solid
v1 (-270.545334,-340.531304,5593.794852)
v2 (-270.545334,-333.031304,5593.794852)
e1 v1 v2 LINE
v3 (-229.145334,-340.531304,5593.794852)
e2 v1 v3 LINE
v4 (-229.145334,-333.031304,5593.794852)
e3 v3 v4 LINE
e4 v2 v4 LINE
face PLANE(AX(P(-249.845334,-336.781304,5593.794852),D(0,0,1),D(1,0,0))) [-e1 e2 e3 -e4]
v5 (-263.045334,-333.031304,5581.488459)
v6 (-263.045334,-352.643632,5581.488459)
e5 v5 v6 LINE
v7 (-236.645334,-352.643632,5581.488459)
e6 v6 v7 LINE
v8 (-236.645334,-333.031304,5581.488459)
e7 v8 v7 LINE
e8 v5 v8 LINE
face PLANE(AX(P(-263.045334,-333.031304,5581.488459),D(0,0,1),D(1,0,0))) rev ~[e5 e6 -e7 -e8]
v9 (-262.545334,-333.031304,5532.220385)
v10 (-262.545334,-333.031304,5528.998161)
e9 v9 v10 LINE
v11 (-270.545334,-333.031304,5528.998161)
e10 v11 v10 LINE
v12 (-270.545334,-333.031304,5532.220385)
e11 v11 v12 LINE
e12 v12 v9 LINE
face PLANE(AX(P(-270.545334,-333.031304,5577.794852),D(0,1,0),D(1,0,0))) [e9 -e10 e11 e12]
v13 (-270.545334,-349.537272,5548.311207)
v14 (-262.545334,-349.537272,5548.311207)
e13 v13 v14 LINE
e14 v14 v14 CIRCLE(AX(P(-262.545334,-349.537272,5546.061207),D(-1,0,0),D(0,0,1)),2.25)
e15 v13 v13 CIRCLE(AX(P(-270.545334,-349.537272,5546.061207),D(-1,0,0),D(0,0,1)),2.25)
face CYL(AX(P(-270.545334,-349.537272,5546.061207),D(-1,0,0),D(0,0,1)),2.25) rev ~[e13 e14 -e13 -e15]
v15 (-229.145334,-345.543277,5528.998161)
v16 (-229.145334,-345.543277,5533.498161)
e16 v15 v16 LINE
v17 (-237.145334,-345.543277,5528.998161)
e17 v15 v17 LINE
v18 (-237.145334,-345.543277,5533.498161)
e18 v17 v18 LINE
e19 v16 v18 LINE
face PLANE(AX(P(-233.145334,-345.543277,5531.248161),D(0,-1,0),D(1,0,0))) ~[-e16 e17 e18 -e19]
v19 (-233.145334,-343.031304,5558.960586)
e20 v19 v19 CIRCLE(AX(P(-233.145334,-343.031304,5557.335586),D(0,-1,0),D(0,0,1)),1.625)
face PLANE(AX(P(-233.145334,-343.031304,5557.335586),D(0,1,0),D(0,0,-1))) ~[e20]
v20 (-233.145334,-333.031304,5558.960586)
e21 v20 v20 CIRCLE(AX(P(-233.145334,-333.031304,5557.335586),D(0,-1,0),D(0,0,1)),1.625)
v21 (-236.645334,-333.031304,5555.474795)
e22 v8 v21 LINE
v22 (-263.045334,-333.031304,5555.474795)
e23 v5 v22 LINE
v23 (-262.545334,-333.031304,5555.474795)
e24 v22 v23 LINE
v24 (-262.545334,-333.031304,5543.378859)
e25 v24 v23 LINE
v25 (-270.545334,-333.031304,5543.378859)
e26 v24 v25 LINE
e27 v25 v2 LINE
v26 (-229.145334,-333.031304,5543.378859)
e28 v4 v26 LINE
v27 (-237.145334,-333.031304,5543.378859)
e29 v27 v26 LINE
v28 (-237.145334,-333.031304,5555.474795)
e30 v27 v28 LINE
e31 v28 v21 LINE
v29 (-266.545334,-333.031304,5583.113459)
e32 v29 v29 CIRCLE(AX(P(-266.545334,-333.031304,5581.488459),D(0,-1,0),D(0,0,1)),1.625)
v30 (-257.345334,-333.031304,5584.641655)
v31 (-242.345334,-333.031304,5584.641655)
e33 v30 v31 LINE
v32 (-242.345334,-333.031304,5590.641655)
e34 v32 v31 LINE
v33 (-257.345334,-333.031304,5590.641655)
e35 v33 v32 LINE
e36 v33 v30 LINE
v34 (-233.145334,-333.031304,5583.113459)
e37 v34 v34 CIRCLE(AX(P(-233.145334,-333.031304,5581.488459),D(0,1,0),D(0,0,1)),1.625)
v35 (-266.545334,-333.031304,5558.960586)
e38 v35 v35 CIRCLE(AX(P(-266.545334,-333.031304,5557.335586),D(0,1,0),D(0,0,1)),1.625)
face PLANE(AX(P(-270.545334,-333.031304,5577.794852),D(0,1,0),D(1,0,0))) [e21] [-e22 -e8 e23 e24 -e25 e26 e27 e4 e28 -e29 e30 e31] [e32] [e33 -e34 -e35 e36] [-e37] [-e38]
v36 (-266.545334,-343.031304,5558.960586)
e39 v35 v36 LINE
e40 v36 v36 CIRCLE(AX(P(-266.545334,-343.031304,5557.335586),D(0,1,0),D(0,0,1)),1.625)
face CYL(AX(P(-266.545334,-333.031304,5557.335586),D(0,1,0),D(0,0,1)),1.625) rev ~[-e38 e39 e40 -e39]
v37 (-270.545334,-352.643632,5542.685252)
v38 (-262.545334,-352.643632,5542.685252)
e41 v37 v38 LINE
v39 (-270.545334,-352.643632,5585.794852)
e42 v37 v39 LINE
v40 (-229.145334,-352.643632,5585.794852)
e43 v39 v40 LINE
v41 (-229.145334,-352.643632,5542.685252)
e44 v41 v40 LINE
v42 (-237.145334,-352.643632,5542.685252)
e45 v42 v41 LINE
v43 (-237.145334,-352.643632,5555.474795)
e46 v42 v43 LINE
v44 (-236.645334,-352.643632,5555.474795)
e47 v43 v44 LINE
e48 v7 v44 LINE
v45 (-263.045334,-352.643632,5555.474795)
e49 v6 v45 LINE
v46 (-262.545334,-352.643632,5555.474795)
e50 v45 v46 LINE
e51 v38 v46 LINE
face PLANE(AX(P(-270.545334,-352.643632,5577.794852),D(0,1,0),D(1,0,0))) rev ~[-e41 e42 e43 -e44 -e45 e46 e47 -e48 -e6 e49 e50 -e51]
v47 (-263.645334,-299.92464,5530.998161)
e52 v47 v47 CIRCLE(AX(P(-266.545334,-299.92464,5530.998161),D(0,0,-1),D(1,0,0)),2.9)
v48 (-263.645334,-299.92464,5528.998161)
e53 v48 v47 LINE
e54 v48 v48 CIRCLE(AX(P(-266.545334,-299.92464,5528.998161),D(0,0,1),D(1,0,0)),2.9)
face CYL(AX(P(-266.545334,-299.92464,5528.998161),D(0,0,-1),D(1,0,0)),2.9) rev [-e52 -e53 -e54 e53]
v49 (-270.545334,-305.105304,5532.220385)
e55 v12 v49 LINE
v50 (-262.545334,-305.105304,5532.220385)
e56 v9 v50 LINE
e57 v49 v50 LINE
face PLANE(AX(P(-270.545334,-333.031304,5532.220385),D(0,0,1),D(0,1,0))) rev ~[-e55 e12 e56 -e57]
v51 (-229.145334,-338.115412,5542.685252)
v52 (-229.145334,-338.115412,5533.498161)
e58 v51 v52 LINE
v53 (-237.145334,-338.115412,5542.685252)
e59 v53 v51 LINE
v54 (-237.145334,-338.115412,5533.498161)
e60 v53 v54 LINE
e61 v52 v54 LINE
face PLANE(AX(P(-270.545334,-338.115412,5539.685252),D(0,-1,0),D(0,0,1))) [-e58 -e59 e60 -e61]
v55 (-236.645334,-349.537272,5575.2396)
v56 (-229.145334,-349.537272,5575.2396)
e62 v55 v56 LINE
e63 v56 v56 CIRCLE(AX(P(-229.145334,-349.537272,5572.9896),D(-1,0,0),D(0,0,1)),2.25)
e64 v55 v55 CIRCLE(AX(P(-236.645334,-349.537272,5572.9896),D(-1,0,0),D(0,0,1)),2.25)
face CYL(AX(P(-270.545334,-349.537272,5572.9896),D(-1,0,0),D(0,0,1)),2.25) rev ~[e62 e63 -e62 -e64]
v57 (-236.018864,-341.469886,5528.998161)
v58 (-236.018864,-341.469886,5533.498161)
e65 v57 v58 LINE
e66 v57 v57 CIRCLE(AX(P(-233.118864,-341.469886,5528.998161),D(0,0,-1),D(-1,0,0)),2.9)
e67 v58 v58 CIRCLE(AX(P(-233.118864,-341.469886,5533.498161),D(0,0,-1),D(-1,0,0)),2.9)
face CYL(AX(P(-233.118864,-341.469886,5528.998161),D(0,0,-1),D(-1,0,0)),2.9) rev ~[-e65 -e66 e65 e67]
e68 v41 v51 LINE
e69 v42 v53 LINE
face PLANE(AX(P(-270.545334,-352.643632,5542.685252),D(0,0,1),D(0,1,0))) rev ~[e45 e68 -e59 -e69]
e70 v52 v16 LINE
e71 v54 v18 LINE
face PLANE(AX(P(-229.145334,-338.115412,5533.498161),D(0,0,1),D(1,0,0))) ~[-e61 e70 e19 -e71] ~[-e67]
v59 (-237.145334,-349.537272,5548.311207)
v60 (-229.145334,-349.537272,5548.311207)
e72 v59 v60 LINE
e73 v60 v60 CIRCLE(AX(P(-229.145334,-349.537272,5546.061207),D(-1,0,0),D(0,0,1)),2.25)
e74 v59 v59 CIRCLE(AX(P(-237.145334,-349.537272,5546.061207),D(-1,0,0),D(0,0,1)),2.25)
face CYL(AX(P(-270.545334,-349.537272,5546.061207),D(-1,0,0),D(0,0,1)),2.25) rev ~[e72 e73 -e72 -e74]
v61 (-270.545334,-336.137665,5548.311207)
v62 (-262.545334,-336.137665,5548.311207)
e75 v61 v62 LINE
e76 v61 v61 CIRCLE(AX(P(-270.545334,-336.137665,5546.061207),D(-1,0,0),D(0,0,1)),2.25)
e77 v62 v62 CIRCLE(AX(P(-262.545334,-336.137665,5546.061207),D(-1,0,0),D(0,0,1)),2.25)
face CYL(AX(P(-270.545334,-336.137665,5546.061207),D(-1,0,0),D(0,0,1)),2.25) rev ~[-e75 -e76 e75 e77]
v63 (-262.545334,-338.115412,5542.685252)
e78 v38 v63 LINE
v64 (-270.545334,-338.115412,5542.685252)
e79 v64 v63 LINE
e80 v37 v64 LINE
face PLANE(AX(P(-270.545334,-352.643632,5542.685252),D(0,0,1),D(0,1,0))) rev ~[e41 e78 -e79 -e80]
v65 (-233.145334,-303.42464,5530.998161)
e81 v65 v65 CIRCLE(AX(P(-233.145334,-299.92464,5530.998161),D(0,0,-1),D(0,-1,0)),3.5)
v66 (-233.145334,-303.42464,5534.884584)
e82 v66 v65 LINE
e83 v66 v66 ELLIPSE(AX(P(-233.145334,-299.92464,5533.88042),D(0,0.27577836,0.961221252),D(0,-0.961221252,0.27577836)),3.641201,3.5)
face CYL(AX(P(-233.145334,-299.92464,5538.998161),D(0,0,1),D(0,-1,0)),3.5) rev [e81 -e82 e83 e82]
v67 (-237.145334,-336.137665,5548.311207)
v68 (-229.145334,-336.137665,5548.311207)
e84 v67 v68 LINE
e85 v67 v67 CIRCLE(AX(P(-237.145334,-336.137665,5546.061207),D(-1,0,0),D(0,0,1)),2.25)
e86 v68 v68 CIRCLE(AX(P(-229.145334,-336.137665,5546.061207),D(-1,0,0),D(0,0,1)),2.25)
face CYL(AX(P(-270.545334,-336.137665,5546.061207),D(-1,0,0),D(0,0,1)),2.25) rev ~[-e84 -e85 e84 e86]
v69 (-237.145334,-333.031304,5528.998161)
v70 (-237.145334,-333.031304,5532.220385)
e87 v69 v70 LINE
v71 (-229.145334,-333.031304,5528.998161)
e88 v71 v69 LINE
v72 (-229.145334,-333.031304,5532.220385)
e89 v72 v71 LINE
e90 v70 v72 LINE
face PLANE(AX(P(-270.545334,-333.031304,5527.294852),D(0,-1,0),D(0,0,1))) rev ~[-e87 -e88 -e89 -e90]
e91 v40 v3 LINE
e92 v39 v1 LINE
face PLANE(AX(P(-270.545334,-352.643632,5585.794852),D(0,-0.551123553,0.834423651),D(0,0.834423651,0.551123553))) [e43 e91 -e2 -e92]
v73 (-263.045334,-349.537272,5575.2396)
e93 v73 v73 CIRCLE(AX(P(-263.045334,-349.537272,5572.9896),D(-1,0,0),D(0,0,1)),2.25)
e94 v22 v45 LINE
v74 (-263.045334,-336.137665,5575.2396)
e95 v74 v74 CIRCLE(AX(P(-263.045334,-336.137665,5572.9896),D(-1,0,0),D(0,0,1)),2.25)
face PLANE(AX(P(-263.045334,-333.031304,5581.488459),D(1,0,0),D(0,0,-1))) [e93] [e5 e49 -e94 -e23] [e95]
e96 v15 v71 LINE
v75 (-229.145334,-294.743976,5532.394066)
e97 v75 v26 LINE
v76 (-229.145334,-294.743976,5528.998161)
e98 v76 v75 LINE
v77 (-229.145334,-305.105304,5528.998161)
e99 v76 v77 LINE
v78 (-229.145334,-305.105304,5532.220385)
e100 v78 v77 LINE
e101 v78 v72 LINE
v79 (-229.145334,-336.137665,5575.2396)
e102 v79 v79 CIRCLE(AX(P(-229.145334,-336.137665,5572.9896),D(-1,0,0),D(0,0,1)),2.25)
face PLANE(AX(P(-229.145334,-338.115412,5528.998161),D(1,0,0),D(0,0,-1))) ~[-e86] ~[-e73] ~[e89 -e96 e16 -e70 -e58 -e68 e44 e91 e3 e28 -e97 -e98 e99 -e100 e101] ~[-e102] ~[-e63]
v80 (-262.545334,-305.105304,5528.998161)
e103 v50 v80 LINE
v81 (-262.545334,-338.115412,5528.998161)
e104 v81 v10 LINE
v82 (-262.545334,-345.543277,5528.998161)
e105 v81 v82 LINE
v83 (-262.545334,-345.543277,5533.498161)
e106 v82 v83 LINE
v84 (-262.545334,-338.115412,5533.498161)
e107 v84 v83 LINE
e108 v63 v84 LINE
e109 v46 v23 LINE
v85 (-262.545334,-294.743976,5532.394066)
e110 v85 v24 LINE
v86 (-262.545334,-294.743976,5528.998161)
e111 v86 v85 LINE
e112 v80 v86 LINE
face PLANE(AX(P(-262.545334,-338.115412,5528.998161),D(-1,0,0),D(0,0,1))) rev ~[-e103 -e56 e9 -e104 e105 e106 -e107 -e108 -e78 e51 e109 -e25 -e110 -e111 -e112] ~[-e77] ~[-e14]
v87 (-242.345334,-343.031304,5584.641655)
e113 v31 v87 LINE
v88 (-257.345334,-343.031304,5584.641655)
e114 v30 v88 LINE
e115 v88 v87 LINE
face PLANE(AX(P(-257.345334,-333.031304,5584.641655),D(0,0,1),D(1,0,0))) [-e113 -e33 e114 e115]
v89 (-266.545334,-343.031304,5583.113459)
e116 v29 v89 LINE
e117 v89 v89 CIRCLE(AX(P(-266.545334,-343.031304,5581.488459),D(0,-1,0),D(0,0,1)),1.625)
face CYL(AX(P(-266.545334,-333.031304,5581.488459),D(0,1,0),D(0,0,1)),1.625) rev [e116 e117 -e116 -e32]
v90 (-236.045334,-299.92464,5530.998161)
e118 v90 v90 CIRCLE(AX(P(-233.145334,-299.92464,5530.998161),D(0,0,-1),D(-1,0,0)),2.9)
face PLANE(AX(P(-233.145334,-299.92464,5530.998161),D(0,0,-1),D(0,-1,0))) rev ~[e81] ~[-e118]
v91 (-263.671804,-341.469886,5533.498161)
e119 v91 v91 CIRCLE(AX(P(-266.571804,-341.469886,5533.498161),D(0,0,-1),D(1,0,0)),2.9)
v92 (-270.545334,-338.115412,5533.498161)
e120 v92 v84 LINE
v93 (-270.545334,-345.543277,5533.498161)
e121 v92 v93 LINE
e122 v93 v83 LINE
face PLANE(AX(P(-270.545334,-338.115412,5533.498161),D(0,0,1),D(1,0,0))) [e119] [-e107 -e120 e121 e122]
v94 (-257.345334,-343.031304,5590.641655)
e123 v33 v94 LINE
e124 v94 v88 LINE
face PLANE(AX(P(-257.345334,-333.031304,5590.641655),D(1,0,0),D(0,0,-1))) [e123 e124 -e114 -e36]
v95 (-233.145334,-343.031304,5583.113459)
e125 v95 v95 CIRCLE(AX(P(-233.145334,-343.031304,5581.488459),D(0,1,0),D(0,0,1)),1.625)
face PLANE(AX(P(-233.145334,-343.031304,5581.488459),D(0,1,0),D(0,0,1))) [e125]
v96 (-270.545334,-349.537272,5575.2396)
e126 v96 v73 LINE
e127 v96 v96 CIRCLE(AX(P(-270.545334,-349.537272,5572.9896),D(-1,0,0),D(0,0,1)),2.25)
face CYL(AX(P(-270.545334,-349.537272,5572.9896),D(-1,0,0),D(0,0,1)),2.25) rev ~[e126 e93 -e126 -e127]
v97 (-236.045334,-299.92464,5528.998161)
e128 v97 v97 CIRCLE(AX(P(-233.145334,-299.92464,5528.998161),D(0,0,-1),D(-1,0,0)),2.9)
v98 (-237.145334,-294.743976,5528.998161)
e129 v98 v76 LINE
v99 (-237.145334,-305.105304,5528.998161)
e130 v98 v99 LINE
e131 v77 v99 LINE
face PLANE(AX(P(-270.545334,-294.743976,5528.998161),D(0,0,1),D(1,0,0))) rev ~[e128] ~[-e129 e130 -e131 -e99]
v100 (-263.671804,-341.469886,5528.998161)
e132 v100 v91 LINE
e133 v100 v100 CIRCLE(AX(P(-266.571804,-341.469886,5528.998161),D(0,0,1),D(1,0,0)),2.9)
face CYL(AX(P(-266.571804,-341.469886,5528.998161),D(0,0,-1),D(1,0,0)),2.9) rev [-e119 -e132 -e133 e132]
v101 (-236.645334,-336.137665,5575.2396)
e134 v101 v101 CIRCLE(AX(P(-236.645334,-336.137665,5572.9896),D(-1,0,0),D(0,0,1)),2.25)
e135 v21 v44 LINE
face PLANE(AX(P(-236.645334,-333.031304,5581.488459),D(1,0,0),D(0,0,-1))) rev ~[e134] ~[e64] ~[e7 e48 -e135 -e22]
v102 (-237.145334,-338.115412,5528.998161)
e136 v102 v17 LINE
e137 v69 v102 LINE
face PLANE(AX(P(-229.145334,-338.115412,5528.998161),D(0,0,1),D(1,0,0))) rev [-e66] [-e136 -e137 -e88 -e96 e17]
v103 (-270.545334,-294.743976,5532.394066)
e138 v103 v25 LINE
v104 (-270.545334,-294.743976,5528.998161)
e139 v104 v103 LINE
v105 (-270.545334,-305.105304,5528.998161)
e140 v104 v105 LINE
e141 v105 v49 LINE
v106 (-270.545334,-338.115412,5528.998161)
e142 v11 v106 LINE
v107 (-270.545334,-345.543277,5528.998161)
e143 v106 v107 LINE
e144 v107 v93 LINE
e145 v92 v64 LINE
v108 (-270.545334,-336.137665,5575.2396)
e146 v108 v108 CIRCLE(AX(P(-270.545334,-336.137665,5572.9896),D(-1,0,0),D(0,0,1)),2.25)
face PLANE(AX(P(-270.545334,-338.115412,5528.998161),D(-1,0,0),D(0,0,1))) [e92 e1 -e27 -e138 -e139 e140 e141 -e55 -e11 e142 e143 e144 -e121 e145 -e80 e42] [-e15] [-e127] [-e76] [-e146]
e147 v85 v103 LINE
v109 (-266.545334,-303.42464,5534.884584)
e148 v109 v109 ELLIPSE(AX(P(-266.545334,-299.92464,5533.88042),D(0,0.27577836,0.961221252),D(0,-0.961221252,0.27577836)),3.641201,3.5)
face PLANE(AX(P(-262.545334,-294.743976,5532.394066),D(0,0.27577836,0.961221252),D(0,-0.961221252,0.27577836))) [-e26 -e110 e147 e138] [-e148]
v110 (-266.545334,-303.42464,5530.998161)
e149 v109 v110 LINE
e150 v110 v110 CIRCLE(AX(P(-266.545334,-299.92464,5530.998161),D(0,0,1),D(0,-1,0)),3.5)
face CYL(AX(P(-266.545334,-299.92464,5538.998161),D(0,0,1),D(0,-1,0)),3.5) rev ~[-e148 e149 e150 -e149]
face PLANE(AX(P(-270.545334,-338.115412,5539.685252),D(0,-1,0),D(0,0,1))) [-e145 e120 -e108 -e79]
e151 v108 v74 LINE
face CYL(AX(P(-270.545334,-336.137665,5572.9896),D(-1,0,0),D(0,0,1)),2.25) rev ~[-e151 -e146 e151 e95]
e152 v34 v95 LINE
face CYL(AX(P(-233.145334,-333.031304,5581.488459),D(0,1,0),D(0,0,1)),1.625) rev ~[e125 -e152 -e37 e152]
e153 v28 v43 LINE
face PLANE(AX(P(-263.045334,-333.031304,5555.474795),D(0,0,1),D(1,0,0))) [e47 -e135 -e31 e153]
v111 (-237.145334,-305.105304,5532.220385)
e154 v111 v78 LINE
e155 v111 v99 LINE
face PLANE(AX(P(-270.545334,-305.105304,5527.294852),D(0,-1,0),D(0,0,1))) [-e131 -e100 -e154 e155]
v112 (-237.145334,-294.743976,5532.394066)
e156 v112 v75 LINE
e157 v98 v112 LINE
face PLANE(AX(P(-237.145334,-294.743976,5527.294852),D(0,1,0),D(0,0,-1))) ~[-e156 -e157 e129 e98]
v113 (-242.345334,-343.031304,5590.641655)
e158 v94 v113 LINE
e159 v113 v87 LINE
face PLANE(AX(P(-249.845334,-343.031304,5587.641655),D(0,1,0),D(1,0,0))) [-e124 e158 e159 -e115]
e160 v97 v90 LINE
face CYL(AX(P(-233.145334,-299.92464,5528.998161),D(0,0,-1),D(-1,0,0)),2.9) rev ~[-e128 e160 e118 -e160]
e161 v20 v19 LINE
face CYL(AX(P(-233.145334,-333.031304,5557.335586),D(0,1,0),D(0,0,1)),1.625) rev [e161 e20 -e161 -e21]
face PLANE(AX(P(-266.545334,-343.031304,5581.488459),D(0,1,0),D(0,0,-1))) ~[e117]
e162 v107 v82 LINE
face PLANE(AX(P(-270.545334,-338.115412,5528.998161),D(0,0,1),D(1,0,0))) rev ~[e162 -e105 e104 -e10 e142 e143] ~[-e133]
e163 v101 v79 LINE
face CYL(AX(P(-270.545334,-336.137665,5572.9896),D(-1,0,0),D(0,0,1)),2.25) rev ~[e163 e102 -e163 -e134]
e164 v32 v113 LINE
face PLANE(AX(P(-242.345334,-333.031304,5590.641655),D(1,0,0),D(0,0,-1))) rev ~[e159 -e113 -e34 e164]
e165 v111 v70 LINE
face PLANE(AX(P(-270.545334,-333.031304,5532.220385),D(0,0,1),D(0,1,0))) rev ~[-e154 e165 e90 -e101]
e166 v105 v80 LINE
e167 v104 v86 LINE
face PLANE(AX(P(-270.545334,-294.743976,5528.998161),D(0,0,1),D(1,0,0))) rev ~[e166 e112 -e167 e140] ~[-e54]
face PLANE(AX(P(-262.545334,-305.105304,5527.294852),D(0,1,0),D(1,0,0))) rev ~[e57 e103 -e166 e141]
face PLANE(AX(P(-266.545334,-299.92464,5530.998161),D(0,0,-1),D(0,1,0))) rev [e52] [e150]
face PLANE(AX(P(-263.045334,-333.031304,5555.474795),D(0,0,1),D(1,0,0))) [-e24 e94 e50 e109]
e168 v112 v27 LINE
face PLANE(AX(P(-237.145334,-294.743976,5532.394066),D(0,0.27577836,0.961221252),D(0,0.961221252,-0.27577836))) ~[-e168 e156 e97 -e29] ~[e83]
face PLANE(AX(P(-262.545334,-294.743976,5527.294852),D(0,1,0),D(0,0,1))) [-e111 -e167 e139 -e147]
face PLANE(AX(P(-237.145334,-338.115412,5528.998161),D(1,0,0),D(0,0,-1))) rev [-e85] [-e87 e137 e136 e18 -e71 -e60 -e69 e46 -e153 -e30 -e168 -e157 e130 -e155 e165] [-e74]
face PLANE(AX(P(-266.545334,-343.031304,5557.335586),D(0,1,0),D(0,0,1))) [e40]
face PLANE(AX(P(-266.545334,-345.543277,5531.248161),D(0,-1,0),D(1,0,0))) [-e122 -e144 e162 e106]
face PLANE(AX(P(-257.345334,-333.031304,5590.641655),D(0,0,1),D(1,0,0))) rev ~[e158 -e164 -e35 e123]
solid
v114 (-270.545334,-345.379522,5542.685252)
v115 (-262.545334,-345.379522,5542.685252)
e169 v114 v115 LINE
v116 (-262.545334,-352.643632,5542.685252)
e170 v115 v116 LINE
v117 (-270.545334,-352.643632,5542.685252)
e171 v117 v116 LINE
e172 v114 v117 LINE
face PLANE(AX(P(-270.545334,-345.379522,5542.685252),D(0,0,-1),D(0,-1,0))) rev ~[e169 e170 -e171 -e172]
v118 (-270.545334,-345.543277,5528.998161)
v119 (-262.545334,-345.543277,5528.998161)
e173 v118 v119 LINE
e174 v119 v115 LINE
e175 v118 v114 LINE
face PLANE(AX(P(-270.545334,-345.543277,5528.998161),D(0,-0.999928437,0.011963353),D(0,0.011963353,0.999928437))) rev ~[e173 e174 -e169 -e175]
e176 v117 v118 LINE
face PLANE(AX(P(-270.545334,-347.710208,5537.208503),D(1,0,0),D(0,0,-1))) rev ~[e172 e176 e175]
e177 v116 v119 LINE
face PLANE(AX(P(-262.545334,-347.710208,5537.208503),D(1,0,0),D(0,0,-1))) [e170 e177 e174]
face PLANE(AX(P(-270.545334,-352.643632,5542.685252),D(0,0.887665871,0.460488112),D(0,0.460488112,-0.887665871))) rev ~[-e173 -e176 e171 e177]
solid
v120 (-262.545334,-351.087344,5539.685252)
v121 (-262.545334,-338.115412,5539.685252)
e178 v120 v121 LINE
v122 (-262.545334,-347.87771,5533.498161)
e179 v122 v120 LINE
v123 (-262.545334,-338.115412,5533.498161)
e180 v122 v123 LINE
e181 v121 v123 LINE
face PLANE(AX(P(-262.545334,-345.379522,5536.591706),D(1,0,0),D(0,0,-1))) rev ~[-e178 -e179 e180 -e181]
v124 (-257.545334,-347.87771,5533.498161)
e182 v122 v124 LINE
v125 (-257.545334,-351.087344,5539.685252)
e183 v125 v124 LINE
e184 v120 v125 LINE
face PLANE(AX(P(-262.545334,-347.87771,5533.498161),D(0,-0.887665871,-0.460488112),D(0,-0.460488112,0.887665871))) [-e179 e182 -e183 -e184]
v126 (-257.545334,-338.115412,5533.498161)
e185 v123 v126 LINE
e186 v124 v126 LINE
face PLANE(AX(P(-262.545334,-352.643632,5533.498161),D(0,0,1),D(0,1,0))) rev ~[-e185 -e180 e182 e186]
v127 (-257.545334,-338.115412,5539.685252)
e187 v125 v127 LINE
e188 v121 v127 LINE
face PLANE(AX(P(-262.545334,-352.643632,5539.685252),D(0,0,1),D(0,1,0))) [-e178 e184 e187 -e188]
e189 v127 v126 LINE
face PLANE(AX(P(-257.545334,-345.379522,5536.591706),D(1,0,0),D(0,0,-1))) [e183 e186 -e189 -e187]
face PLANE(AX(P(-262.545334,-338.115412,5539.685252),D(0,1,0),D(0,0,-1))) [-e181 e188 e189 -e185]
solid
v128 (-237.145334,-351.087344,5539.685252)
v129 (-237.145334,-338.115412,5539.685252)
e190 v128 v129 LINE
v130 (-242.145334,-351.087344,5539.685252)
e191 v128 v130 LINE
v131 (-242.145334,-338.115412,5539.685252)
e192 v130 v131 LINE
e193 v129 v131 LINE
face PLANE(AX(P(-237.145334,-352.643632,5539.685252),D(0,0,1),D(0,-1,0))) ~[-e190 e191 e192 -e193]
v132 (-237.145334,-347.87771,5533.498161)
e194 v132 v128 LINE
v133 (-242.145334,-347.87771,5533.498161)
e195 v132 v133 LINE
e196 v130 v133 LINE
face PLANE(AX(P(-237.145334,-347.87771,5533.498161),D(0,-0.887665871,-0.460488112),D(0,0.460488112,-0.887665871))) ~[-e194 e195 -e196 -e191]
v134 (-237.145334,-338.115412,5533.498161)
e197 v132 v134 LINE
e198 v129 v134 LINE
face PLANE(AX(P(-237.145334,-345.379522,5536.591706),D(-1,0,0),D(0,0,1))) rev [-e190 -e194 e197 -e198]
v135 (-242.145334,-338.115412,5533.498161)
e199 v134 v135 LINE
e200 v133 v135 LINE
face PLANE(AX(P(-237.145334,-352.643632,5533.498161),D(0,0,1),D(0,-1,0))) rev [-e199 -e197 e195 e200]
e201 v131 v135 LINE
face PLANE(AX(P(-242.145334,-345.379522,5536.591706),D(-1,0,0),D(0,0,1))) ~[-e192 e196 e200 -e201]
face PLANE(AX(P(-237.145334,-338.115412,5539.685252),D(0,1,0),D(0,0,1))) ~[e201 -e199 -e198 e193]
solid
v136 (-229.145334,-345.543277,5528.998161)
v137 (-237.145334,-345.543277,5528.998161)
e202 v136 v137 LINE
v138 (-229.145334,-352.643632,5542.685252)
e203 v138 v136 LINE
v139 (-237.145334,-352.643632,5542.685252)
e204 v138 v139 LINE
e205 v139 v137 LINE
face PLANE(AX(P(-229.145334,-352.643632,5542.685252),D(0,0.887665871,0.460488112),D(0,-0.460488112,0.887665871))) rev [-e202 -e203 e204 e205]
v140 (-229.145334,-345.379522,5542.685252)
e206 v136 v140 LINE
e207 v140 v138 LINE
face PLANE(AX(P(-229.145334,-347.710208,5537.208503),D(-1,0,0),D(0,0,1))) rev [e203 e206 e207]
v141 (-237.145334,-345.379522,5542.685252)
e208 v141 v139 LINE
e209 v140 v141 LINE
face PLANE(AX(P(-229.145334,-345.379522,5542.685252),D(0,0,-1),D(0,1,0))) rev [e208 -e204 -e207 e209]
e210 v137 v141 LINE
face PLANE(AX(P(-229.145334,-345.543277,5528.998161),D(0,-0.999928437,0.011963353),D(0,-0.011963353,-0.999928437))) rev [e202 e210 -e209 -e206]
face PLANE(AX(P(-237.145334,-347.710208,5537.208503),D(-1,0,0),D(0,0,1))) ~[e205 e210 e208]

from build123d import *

# Parameters (mm, degrees)
SKETCH1_W             = 7.5
SKETCH1_H             = 7.5
BOSS_EXTRUDE1_DEPTH   = 5.5
BOSS_EXTRUDE1_2_DEPTH = 5.5
BOSS_EXTRUDE1_3_DEPTH = 5.5
BOSS_EXTRUDE1_4_DEPTH = 5.5
BOSS_EXTRUDE2_START   = -5.5
SKETCH2_W             = 8
SKETCH2_H             = 7.5
BOSS_EXTRUDE2_DEPTH   = 50.5
SKETCH3_W             = 41.4
SKETCH3_H             = 7.5
BOSS_EXTRUDE3_DEPTH   = 16
BOSS_EXTRUDE4_DEPTH   = 8
SKETCH5_R             = 2.5
CUT_EXTRUDE1_DEPTH    = 8
SKETCH6_W             = 38.1096
SKETCH6_H             = 12.112327922
BOSS_EXTRUDE6_DEPTH   = 8
SKETCH9_W             = 41.4
SKETCH9_H             = 12.112327922
BOSS_EXTRUDE7_DEPTH   = 8
SKETCH10_R            = 2.25
CUT_EXTRUDE2_DEPTH    = 5606.052393737
BOSS_EXTRUDE8_DEPTH   = 8
BOSS_EXTRUDE9_DEPTH   = 8
SKETCH13_W            = 4.925533285
SKETCH13_H            = 27.926
CUT_EXTRUDE3_DEPTH    = 5606.052393737
BOSS_EXTRUDE10_DEPTH  = 41.4
SKETCH16_W            = 26.4
SKETCH16_H            = 26.013663936
CUT_EXTRUDE5_DEPTH    = 5601.464404158
SKETCH17_W            = 25.4
SKETCH17_H            = 5.5
CUT_EXTRUDE6_DEPTH    = 50
SKETCH18_W            = 41.4
SKETCH18_H            = 1.703308899
CUT_EXTRUDE7_DEPTH    = 50
SKETCH19_R            = 2.9
CUT_EXTRUDE8_DEPTH    = 50
SKETCH20_R            = 3.5
CUT_EXTRUDE9_DEPTH    = 8
SKETCH21_W            = 10.687091101
SKETCH21_H            = 14.528220305
CUT_EXTRUDE10_DEPTH   = 55
SKETCH22_W            = 8
SKETCH22_H            = 4.5
BOSS_EXTRUDE11_DEPTH  = 7.42786537
SKETCH23_R            = 2.9
CUT_EXTRUDE11_DEPTH   = 5
SKETCH25_W            = 6.187091101
SKETCH25_H            = 14.528220305
BOSS_EXTRUDE12_DEPTH  = 5
SKETCH26_W            = 3
SKETCH26_H            = 14.528220305
CUT_EXTRUDE12_DEPTH   = 5606.052393737
BOSS_EXTRUDE15_DEPTH  = 8
CUT_EXTRUDE13_DEPTH   = 5605.999013072
SKETCH29_W            = 15
SKETCH29_H            = 6
CUT_EXTRUDE14_DEPTH   = 10
SKETCH30_R            = 1.625
CUT_EXTRUDE15_DEPTH   = 10
SKETCH31_R            = 1.625
CUT_EXTRUDE16_DEPTH   = 10


with BuildPart() as part:
    # Sketch1 → Boss-Extrude1 (new body)
    with BuildSketch(Plane(origin=(-474.147028746, -1016.113518437, 5527.294851894), x_dir=(1, 0, 0), z_dir=(0, 0, 1))):
        with Locations((215.351694909, 679.332213979)):
            Rectangle(SKETCH1_W, SKETCH1_H)
    extrude(amount=BOSS_EXTRUDE1_DEPTH)

    # Sketch2 → Boss-Extrude2 (add)
    with BuildSketch(Plane.XY.offset(5532.794851894).offset(BOSS_EXTRUDE2_START)):
        with Locations((-233.145333837, -336.781304458)):
            Rectangle(SKETCH2_W, SKETCH2_H)
        with Locations((-266.545333837, -336.781304458)):
            Rectangle(SKETCH2_W, SKETCH2_H)
    boss_extrude2 = extrude(amount=BOSS_EXTRUDE2_DEPTH)


with BuildPart() as body_2:
    # Sketch1 → Boss-Extrude1 2 (new body)
    with BuildSketch(Plane(origin=(-474.147028746, -1016.113518437, 5527.294851894), x_dir=(1, 0, 0), z_dir=(0, 0, 1))):
        with Locations((233.251694909, 679.332213979)):
            Rectangle(SKETCH1_W, SKETCH1_H)
    extrude(amount=BOSS_EXTRUDE1_2_DEPTH)


with BuildPart() as body_3:
    # Sketch1 → Boss-Extrude1 3 (new body)
    with BuildSketch(Plane(origin=(-474.147028746, -1016.113518437, 5527.294851894), x_dir=(1, 0, 0), z_dir=(0, 0, 1))):
        with Locations((233.251694909, 714.758213979)):
            Rectangle(SKETCH1_W, SKETCH1_H)
    extrude(amount=BOSS_EXTRUDE1_3_DEPTH)


with BuildPart() as body_4:
    # Sketch1 → Boss-Extrude1 4 (new body)
    with BuildSketch(Plane(origin=(-474.147028746, -1016.113518437, 5527.294851894), x_dir=(1, 0, 0), z_dir=(0, 0, 1))):
        with Locations((215.351694909, 714.758213979)):
            Rectangle(SKETCH1_W, SKETCH1_H)
    extrude(amount=BOSS_EXTRUDE1_4_DEPTH)



with BuildPart() as boss_extrude2_piece_1:
    # of the separate pieces the step leaves, piece 1, a body of its own (boss_extrude2_pieces)
    add(part.part.solids().sort_by_distance((-255.045333837, -333.031304458, 5527.294851894))[0])



with BuildPart() as boss_extrude2_piece_2:
    # of the separate pieces the step leaves, piece 2, a body of its own (boss_extrude2_pieces)
    add(part.part.solids().sort_by_distance((-229.145333837, -333.031304458, 5527.294851894))[0])


with BuildPart() as boss_extrude2_piece_1_1:
    add(boss_extrude2_piece_1.part)

    add(boss_extrude2_piece_2.part)  # Boss-Extrude3 merges Boss-Extrude2 piece 2
    # Sketch3 → Boss-Extrude3 (add)
    with BuildSketch(Plane.XY.offset(5577.794851894)):
        with Locations((-249.845333837, -336.781304458)):
            Rectangle(SKETCH3_W, SKETCH3_H)
    extrude(amount=BOSS_EXTRUDE3_DEPTH)


with BuildPart() as body_4_1:
    add(body_4.part)

    add(boss_extrude2_piece_1_1.part)  # Boss-Extrude4 merges Boss-Extrude2 piece 1
    # Sketch4 → Boss-Extrude4 (add)
    with BuildSketch(Plane.ZY.offset(262.545333837)):
        Polygon((5527.294851894, -333.031304458), (5527.294851894, -294.74397633), (5532.394065696, -294.74397633), (5543.378858785, -333.031304458), align=None)
    boss_extrude4 = extrude(amount=BOSS_EXTRUDE4_DEPTH)

    # Mirror1: Boss-Extrude2, Boss-Extrude4 across plane
    add(boss_extrude2.mirror(Plane.ZY.offset(249.845333837)))
    add(boss_extrude4.mirror(Plane.ZY.offset(249.845333837)))


with BuildPart() as cut_extrude1_tool:
    # Sketch5 → Cut-Extrude1 (new body)
    with BuildSketch(Plane.XY.offset(5532.794851894)):
        with Locations((-258.795333837, -301.355304458)):
            Circle(SKETCH5_R)
        with Locations((-240.895333837, -301.355304458)):
            Circle(SKETCH5_R)
        with Locations((-240.895333837, -336.781304458)):
            Circle(SKETCH5_R)
        with Locations(Location((-258.795333837, -336.781304458, 0), (0, 0, 180))):
            Circle(SKETCH5_R)
    extrude(amount=-CUT_EXTRUDE1_DEPTH)


with BuildPart() as body_2_1:
    add(body_2.part)

    # Cut-Extrude1: cut by cut_extrude1_tool
    add(cut_extrude1_tool.part, mode=Mode.SUBTRACT)



with BuildPart() as body_3_1:
    add(body_3.part)

    # Cut-Extrude1: cut by cut_extrude1_tool
    add(cut_extrude1_tool.part, mode=Mode.SUBTRACT)


with BuildPart() as body_4_2:
    add(body_4_1.part)

    # Cut-Extrude1: cut by cut_extrude1_tool
    add(cut_extrude1_tool.part, mode=Mode.SUBTRACT)

    # Sketch6 → Boss-Extrude6 (add)
    with BuildSketch(Plane.ZY.offset(270.545333837)):
        with Locations((5558.740051894, -346.587468419)):
            Rectangle(SKETCH6_W, SKETCH6_H)
    boss_extrude6 = extrude(amount=-BOSS_EXTRUDE6_DEPTH)

    # Mirror2: Boss-Extrude6 across plane
    add(boss_extrude6.mirror(Plane.ZY.offset(249.845333837)))

    # Sketch9 → Boss-Extrude7 (add)
    with BuildSketch(Plane.XY.offset(5577.794851894)):
        with Locations((-249.845333837, -346.587468419)):
            Rectangle(SKETCH9_W, SKETCH9_H)
    extrude(amount=BOSS_EXTRUDE7_DEPTH)

    # Sketch10 → Cut-Extrude2 (cut, through all)
    with BuildSketch(Plane.ZY.offset(270.545333837)):
        with Locations((5546.061207304, -349.537271609)):
            Circle(SKETCH10_R)
        with Locations((5572.989599872, -349.537271609)):
            Circle(SKETCH10_R)
        with Locations((5546.061207304, -336.137665229)):
            Circle(SKETCH10_R)
        with Locations((5572.989599872, -336.137665229)):
            Circle(SKETCH10_R)
    extrude(amount=-CUT_EXTRUDE2_DEPTH, mode=Mode.SUBTRACT)

    # Sketch11 → Boss-Extrude8 (add)
    with BuildSketch(Plane.ZY.offset(270.545333837)):
        Polygon((5527.294851894, -340.372465198), (5539.685251894, -352.64363238), (5539.685251894, -340.531304458), align=None)
    extrude(amount=-BOSS_EXTRUDE8_DEPTH)


with BuildPart() as body_2_2:
    add(body_2_1.part)

    add(body_4_2.part)  # Boss-Extrude9 merges body 4
    # Sketch12 → Boss-Extrude9 (add)
    with BuildSketch(Plane(origin=(-229.145333837, 0, 0), x_dir=(0, 0, -1), z_dir=(1, 0, 0))):
        Polygon((-5539.685251894, -352.64363238), (-5531.24028041, -340.531304458), (-5539.685251894, -340.531304458), align=None)
    extrude(amount=-BOSS_EXTRUDE9_DEPTH)

    # Sketch13 → Cut-Extrude3 (cut, through all)
    with BuildSketch(Plane.ZY.offset(270.545333837)):
        with Locations((5529.757618536, -319.068304458)):
            Rectangle(SKETCH13_W, SKETCH13_H)
    extrude(amount=-CUT_EXTRUDE3_DEPTH, mode=Mode.SUBTRACT)

    # Sketch14 → Boss-Extrude10 (add)
    with BuildSketch(Plane.ZY.offset(270.545333837)):
        Polygon((5585.794851894, -352.64363238), (5593.794851894, -340.531304458), (5585.794851894, -340.531304458), align=None)
    extrude(amount=-BOSS_EXTRUDE10_DEPTH)

    # Sketch16 → Cut-Extrude5 (cut, through all)
    with BuildSketch(Plane(origin=(0, -333.031304458, 0), x_dir=(1, 0, 0), z_dir=(0, 1, 0))):
        with Locations((-249.845333837, -5568.481626817)):
            Rectangle(SKETCH16_W, SKETCH16_H)
    extrude(amount=-CUT_EXTRUDE5_DEPTH, mode=Mode.SUBTRACT)


with BuildPart() as cut_extrude6_tool:
    # Sketch17 → Cut-Extrude6 (new body)
    with BuildSketch(Plane(origin=(0, -297.605304458, 0), x_dir=(1, 0, 0), z_dir=(0, 1, 0))):
        with Locations((-249.845333837, -5530.044851894)):
            Rectangle(SKETCH17_W, SKETCH17_H)
    extrude(amount=-CUT_EXTRUDE6_DEPTH)


with BuildPart() as body_2_3:
    add(body_2_2.part)

    # Cut-Extrude6: cut by cut_extrude6_tool
    add(cut_extrude6_tool.part, mode=Mode.SUBTRACT)

    # Sketch18 → Cut-Extrude7 (cut)
    with BuildSketch(Plane(origin=(0, -294.74397633, 0), x_dir=(1, 0, 0), z_dir=(0, 1, 0))):
        with Locations((-249.845333837, -5528.146506344)):
            Rectangle(SKETCH18_W, SKETCH18_H)
    extrude(amount=-CUT_EXTRUDE7_DEPTH, mode=Mode.SUBTRACT)

    # Sketch19 → Cut-Extrude8 (cut)
    with BuildSketch(Plane(origin=(0, 0, 5528.998160793), x_dir=(-1, 0, 0), z_dir=(0, 0, -1))):
        with Locations((233.145333837, -299.924640394)):
            Circle(SKETCH19_R)
    cut_extrude8 = extrude(amount=-CUT_EXTRUDE8_DEPTH, mode=Mode.SUBTRACT)

    # Sketch20 → Cut-Extrude9 (cut)
    with BuildSketch(Plane(origin=(0, 0, 5538.998160793), x_dir=(-1, 0, 0), z_dir=(0, 0, -1))):
        with Locations(Location((233.145333837, -299.924640394, 0), (0, 0, 270))):
            Circle(SKETCH20_R)
    cut_extrude9 = extrude(amount=CUT_EXTRUDE9_DEPTH, mode=Mode.SUBTRACT)

    # Mirror3: Cut-Extrude8, Cut-Extrude9 across plane
    add(cut_extrude8.mirror(Plane.ZY.offset(249.845333837)), mode=Mode.SUBTRACT)
    add(cut_extrude9.mirror(Plane.ZY.offset(249.845333837)), mode=Mode.SUBTRACT)

    # Sketch21 → Cut-Extrude10 (cut)
    with BuildSketch(Plane.ZY.offset(270.545333837)):
        with Locations((5534.341706344, -345.379522228)):
            Rectangle(SKETCH21_W, SKETCH21_H)
    extrude(amount=-CUT_EXTRUDE10_DEPTH, mode=Mode.SUBTRACT)

    # Sketch22 → Boss-Extrude11 (add)
    with BuildSketch(Plane.XZ.offset(338.115412075)):
        with Locations((-266.545333837, 5531.248160793)):
            Rectangle(SKETCH22_W, SKETCH22_H)
    boss_extrude11 = extrude(amount=BOSS_EXTRUDE11_DEPTH)

    # Mirror5: Boss-Extrude11 across plane
    add(boss_extrude11.mirror(Plane.ZY.offset(249.845333837)))

    # Sketch23 → Cut-Extrude11 (cut)
    with BuildSketch(Plane(origin=(0, 0, 5528.998160793), x_dir=(-1, 0, 0), z_dir=(0, 0, -1))):
        with Locations((233.118864035, -341.469886082)):
            Circle(SKETCH23_R)
    cut_extrude11 = extrude(amount=-CUT_EXTRUDE11_DEPTH, mode=Mode.SUBTRACT)

    # Sketch26 → Cut-Extrude12 (cut, through all)
    with BuildSketch(Plane.ZY.offset(270.545333837)):
        with Locations((5541.185251894, -345.379522228)):
            Rectangle(SKETCH26_W, SKETCH26_H)
    extrude(amount=-CUT_EXTRUDE12_DEPTH, mode=Mode.SUBTRACT)

    # Mirror6: Cut-Extrude11 across plane
    add(cut_extrude11.mirror(Plane.ZY.offset(249.845333837)), mode=Mode.SUBTRACT)

    # Sketch29 → Cut-Extrude14 (cut)
    with BuildSketch(Plane(origin=(0, -333.031304458, 0), x_dir=(1, 0, 0), z_dir=(0, 1, 0))):
        with Locations((-249.845333837, -5587.64165534)):
            Rectangle(SKETCH29_W, SKETCH29_H)
    extrude(amount=-CUT_EXTRUDE14_DEPTH, mode=Mode.SUBTRACT)

    # Sketch30 → Cut-Extrude15 (cut)
    with BuildSketch(Plane(origin=(0, -333.031304458, 0), x_dir=(1, 0, 0), z_dir=(0, 1, 0))):
        with Locations(Location((-266.545333837, -5557.335586136, 0), (0, 0, 270))):
            Circle(SKETCH30_R)
    cut_extrude15 = extrude(amount=-CUT_EXTRUDE15_DEPTH, mode=Mode.SUBTRACT)

    # Sketch31 → Cut-Extrude16 (cut)
    with BuildSketch(Plane(origin=(0, -333.031304458, 0), x_dir=(1, 0, 0), z_dir=(0, 1, 0))):
        with Locations(Location((-233.145333837, -5581.488458785, 0), (0, 0, 270))):
            Circle(SKETCH31_R)
    cut_extrude16 = extrude(amount=-CUT_EXTRUDE16_DEPTH, mode=Mode.SUBTRACT)

    # Mirror12: Cut-Extrude15, Cut-Extrude16 across plane
    add(cut_extrude15.mirror(Plane.ZY.offset(249.845333837)), mode=Mode.SUBTRACT)
    add(cut_extrude16.mirror(Plane.ZY.offset(249.845333837)), mode=Mode.SUBTRACT)


with BuildPart() as body_3_2:
    add(body_3_1.part)

    # Cut-Extrude6: cut by cut_extrude6_tool
    add(cut_extrude6_tool.part, mode=Mode.SUBTRACT)


with BuildPart() as body_2_2_1:
    # Sketch25 → Boss-Extrude12 (new body)
    with BuildSketch(Plane(origin=(-262.545333837, 0, 0), x_dir=(0, 0, -1), z_dir=(1, 0, 0))):
        with Locations((-5536.591706344, -345.379522228)):
            Rectangle(SKETCH25_W, SKETCH25_H)
    extrude(amount=BOSS_EXTRUDE12_DEPTH)

    # Sketch28 → Cut-Extrude13 (cut, through all)
    with BuildSketch(Plane.ZY.offset(262.545333837)):
        Polygon((5533.498160793, -347.87771045), (5539.685251894, -351.08734371), (5543.378858785, -359.563611735), (5533.262204425, -359.563611735), align=None)
    extrude(amount=-CUT_EXTRUDE13_DEPTH, mode=Mode.SUBTRACT)


with BuildPart() as body_3_2_1:
    # Sketch27 → Boss-Extrude15 (new body)
    with BuildSketch(Plane.ZY.offset(270.545333837)):
        Polygon((5542.685251894, -352.64363238), (5528.998160793, -345.543277445), (5542.685251894, -345.379522228), align=None)
    extrude(amount=-BOSS_EXTRUDE15_DEPTH)


with BuildPart() as body_4_2_1:
    # Mirror11: mirrored copy
    add(body_2_2_1.part.mirror(Plane.ZY.offset(249.845333837)))


with BuildPart() as body_5:
    # Mirror11 2: mirrored copy
    add(body_3_2_1.part.mirror(Plane.ZY.offset(249.845333837)))


solid = Compound([body_2_3.part, body_2_2_1.part, body_3_2_1.part, body_4_2_1.part, body_5.part])
